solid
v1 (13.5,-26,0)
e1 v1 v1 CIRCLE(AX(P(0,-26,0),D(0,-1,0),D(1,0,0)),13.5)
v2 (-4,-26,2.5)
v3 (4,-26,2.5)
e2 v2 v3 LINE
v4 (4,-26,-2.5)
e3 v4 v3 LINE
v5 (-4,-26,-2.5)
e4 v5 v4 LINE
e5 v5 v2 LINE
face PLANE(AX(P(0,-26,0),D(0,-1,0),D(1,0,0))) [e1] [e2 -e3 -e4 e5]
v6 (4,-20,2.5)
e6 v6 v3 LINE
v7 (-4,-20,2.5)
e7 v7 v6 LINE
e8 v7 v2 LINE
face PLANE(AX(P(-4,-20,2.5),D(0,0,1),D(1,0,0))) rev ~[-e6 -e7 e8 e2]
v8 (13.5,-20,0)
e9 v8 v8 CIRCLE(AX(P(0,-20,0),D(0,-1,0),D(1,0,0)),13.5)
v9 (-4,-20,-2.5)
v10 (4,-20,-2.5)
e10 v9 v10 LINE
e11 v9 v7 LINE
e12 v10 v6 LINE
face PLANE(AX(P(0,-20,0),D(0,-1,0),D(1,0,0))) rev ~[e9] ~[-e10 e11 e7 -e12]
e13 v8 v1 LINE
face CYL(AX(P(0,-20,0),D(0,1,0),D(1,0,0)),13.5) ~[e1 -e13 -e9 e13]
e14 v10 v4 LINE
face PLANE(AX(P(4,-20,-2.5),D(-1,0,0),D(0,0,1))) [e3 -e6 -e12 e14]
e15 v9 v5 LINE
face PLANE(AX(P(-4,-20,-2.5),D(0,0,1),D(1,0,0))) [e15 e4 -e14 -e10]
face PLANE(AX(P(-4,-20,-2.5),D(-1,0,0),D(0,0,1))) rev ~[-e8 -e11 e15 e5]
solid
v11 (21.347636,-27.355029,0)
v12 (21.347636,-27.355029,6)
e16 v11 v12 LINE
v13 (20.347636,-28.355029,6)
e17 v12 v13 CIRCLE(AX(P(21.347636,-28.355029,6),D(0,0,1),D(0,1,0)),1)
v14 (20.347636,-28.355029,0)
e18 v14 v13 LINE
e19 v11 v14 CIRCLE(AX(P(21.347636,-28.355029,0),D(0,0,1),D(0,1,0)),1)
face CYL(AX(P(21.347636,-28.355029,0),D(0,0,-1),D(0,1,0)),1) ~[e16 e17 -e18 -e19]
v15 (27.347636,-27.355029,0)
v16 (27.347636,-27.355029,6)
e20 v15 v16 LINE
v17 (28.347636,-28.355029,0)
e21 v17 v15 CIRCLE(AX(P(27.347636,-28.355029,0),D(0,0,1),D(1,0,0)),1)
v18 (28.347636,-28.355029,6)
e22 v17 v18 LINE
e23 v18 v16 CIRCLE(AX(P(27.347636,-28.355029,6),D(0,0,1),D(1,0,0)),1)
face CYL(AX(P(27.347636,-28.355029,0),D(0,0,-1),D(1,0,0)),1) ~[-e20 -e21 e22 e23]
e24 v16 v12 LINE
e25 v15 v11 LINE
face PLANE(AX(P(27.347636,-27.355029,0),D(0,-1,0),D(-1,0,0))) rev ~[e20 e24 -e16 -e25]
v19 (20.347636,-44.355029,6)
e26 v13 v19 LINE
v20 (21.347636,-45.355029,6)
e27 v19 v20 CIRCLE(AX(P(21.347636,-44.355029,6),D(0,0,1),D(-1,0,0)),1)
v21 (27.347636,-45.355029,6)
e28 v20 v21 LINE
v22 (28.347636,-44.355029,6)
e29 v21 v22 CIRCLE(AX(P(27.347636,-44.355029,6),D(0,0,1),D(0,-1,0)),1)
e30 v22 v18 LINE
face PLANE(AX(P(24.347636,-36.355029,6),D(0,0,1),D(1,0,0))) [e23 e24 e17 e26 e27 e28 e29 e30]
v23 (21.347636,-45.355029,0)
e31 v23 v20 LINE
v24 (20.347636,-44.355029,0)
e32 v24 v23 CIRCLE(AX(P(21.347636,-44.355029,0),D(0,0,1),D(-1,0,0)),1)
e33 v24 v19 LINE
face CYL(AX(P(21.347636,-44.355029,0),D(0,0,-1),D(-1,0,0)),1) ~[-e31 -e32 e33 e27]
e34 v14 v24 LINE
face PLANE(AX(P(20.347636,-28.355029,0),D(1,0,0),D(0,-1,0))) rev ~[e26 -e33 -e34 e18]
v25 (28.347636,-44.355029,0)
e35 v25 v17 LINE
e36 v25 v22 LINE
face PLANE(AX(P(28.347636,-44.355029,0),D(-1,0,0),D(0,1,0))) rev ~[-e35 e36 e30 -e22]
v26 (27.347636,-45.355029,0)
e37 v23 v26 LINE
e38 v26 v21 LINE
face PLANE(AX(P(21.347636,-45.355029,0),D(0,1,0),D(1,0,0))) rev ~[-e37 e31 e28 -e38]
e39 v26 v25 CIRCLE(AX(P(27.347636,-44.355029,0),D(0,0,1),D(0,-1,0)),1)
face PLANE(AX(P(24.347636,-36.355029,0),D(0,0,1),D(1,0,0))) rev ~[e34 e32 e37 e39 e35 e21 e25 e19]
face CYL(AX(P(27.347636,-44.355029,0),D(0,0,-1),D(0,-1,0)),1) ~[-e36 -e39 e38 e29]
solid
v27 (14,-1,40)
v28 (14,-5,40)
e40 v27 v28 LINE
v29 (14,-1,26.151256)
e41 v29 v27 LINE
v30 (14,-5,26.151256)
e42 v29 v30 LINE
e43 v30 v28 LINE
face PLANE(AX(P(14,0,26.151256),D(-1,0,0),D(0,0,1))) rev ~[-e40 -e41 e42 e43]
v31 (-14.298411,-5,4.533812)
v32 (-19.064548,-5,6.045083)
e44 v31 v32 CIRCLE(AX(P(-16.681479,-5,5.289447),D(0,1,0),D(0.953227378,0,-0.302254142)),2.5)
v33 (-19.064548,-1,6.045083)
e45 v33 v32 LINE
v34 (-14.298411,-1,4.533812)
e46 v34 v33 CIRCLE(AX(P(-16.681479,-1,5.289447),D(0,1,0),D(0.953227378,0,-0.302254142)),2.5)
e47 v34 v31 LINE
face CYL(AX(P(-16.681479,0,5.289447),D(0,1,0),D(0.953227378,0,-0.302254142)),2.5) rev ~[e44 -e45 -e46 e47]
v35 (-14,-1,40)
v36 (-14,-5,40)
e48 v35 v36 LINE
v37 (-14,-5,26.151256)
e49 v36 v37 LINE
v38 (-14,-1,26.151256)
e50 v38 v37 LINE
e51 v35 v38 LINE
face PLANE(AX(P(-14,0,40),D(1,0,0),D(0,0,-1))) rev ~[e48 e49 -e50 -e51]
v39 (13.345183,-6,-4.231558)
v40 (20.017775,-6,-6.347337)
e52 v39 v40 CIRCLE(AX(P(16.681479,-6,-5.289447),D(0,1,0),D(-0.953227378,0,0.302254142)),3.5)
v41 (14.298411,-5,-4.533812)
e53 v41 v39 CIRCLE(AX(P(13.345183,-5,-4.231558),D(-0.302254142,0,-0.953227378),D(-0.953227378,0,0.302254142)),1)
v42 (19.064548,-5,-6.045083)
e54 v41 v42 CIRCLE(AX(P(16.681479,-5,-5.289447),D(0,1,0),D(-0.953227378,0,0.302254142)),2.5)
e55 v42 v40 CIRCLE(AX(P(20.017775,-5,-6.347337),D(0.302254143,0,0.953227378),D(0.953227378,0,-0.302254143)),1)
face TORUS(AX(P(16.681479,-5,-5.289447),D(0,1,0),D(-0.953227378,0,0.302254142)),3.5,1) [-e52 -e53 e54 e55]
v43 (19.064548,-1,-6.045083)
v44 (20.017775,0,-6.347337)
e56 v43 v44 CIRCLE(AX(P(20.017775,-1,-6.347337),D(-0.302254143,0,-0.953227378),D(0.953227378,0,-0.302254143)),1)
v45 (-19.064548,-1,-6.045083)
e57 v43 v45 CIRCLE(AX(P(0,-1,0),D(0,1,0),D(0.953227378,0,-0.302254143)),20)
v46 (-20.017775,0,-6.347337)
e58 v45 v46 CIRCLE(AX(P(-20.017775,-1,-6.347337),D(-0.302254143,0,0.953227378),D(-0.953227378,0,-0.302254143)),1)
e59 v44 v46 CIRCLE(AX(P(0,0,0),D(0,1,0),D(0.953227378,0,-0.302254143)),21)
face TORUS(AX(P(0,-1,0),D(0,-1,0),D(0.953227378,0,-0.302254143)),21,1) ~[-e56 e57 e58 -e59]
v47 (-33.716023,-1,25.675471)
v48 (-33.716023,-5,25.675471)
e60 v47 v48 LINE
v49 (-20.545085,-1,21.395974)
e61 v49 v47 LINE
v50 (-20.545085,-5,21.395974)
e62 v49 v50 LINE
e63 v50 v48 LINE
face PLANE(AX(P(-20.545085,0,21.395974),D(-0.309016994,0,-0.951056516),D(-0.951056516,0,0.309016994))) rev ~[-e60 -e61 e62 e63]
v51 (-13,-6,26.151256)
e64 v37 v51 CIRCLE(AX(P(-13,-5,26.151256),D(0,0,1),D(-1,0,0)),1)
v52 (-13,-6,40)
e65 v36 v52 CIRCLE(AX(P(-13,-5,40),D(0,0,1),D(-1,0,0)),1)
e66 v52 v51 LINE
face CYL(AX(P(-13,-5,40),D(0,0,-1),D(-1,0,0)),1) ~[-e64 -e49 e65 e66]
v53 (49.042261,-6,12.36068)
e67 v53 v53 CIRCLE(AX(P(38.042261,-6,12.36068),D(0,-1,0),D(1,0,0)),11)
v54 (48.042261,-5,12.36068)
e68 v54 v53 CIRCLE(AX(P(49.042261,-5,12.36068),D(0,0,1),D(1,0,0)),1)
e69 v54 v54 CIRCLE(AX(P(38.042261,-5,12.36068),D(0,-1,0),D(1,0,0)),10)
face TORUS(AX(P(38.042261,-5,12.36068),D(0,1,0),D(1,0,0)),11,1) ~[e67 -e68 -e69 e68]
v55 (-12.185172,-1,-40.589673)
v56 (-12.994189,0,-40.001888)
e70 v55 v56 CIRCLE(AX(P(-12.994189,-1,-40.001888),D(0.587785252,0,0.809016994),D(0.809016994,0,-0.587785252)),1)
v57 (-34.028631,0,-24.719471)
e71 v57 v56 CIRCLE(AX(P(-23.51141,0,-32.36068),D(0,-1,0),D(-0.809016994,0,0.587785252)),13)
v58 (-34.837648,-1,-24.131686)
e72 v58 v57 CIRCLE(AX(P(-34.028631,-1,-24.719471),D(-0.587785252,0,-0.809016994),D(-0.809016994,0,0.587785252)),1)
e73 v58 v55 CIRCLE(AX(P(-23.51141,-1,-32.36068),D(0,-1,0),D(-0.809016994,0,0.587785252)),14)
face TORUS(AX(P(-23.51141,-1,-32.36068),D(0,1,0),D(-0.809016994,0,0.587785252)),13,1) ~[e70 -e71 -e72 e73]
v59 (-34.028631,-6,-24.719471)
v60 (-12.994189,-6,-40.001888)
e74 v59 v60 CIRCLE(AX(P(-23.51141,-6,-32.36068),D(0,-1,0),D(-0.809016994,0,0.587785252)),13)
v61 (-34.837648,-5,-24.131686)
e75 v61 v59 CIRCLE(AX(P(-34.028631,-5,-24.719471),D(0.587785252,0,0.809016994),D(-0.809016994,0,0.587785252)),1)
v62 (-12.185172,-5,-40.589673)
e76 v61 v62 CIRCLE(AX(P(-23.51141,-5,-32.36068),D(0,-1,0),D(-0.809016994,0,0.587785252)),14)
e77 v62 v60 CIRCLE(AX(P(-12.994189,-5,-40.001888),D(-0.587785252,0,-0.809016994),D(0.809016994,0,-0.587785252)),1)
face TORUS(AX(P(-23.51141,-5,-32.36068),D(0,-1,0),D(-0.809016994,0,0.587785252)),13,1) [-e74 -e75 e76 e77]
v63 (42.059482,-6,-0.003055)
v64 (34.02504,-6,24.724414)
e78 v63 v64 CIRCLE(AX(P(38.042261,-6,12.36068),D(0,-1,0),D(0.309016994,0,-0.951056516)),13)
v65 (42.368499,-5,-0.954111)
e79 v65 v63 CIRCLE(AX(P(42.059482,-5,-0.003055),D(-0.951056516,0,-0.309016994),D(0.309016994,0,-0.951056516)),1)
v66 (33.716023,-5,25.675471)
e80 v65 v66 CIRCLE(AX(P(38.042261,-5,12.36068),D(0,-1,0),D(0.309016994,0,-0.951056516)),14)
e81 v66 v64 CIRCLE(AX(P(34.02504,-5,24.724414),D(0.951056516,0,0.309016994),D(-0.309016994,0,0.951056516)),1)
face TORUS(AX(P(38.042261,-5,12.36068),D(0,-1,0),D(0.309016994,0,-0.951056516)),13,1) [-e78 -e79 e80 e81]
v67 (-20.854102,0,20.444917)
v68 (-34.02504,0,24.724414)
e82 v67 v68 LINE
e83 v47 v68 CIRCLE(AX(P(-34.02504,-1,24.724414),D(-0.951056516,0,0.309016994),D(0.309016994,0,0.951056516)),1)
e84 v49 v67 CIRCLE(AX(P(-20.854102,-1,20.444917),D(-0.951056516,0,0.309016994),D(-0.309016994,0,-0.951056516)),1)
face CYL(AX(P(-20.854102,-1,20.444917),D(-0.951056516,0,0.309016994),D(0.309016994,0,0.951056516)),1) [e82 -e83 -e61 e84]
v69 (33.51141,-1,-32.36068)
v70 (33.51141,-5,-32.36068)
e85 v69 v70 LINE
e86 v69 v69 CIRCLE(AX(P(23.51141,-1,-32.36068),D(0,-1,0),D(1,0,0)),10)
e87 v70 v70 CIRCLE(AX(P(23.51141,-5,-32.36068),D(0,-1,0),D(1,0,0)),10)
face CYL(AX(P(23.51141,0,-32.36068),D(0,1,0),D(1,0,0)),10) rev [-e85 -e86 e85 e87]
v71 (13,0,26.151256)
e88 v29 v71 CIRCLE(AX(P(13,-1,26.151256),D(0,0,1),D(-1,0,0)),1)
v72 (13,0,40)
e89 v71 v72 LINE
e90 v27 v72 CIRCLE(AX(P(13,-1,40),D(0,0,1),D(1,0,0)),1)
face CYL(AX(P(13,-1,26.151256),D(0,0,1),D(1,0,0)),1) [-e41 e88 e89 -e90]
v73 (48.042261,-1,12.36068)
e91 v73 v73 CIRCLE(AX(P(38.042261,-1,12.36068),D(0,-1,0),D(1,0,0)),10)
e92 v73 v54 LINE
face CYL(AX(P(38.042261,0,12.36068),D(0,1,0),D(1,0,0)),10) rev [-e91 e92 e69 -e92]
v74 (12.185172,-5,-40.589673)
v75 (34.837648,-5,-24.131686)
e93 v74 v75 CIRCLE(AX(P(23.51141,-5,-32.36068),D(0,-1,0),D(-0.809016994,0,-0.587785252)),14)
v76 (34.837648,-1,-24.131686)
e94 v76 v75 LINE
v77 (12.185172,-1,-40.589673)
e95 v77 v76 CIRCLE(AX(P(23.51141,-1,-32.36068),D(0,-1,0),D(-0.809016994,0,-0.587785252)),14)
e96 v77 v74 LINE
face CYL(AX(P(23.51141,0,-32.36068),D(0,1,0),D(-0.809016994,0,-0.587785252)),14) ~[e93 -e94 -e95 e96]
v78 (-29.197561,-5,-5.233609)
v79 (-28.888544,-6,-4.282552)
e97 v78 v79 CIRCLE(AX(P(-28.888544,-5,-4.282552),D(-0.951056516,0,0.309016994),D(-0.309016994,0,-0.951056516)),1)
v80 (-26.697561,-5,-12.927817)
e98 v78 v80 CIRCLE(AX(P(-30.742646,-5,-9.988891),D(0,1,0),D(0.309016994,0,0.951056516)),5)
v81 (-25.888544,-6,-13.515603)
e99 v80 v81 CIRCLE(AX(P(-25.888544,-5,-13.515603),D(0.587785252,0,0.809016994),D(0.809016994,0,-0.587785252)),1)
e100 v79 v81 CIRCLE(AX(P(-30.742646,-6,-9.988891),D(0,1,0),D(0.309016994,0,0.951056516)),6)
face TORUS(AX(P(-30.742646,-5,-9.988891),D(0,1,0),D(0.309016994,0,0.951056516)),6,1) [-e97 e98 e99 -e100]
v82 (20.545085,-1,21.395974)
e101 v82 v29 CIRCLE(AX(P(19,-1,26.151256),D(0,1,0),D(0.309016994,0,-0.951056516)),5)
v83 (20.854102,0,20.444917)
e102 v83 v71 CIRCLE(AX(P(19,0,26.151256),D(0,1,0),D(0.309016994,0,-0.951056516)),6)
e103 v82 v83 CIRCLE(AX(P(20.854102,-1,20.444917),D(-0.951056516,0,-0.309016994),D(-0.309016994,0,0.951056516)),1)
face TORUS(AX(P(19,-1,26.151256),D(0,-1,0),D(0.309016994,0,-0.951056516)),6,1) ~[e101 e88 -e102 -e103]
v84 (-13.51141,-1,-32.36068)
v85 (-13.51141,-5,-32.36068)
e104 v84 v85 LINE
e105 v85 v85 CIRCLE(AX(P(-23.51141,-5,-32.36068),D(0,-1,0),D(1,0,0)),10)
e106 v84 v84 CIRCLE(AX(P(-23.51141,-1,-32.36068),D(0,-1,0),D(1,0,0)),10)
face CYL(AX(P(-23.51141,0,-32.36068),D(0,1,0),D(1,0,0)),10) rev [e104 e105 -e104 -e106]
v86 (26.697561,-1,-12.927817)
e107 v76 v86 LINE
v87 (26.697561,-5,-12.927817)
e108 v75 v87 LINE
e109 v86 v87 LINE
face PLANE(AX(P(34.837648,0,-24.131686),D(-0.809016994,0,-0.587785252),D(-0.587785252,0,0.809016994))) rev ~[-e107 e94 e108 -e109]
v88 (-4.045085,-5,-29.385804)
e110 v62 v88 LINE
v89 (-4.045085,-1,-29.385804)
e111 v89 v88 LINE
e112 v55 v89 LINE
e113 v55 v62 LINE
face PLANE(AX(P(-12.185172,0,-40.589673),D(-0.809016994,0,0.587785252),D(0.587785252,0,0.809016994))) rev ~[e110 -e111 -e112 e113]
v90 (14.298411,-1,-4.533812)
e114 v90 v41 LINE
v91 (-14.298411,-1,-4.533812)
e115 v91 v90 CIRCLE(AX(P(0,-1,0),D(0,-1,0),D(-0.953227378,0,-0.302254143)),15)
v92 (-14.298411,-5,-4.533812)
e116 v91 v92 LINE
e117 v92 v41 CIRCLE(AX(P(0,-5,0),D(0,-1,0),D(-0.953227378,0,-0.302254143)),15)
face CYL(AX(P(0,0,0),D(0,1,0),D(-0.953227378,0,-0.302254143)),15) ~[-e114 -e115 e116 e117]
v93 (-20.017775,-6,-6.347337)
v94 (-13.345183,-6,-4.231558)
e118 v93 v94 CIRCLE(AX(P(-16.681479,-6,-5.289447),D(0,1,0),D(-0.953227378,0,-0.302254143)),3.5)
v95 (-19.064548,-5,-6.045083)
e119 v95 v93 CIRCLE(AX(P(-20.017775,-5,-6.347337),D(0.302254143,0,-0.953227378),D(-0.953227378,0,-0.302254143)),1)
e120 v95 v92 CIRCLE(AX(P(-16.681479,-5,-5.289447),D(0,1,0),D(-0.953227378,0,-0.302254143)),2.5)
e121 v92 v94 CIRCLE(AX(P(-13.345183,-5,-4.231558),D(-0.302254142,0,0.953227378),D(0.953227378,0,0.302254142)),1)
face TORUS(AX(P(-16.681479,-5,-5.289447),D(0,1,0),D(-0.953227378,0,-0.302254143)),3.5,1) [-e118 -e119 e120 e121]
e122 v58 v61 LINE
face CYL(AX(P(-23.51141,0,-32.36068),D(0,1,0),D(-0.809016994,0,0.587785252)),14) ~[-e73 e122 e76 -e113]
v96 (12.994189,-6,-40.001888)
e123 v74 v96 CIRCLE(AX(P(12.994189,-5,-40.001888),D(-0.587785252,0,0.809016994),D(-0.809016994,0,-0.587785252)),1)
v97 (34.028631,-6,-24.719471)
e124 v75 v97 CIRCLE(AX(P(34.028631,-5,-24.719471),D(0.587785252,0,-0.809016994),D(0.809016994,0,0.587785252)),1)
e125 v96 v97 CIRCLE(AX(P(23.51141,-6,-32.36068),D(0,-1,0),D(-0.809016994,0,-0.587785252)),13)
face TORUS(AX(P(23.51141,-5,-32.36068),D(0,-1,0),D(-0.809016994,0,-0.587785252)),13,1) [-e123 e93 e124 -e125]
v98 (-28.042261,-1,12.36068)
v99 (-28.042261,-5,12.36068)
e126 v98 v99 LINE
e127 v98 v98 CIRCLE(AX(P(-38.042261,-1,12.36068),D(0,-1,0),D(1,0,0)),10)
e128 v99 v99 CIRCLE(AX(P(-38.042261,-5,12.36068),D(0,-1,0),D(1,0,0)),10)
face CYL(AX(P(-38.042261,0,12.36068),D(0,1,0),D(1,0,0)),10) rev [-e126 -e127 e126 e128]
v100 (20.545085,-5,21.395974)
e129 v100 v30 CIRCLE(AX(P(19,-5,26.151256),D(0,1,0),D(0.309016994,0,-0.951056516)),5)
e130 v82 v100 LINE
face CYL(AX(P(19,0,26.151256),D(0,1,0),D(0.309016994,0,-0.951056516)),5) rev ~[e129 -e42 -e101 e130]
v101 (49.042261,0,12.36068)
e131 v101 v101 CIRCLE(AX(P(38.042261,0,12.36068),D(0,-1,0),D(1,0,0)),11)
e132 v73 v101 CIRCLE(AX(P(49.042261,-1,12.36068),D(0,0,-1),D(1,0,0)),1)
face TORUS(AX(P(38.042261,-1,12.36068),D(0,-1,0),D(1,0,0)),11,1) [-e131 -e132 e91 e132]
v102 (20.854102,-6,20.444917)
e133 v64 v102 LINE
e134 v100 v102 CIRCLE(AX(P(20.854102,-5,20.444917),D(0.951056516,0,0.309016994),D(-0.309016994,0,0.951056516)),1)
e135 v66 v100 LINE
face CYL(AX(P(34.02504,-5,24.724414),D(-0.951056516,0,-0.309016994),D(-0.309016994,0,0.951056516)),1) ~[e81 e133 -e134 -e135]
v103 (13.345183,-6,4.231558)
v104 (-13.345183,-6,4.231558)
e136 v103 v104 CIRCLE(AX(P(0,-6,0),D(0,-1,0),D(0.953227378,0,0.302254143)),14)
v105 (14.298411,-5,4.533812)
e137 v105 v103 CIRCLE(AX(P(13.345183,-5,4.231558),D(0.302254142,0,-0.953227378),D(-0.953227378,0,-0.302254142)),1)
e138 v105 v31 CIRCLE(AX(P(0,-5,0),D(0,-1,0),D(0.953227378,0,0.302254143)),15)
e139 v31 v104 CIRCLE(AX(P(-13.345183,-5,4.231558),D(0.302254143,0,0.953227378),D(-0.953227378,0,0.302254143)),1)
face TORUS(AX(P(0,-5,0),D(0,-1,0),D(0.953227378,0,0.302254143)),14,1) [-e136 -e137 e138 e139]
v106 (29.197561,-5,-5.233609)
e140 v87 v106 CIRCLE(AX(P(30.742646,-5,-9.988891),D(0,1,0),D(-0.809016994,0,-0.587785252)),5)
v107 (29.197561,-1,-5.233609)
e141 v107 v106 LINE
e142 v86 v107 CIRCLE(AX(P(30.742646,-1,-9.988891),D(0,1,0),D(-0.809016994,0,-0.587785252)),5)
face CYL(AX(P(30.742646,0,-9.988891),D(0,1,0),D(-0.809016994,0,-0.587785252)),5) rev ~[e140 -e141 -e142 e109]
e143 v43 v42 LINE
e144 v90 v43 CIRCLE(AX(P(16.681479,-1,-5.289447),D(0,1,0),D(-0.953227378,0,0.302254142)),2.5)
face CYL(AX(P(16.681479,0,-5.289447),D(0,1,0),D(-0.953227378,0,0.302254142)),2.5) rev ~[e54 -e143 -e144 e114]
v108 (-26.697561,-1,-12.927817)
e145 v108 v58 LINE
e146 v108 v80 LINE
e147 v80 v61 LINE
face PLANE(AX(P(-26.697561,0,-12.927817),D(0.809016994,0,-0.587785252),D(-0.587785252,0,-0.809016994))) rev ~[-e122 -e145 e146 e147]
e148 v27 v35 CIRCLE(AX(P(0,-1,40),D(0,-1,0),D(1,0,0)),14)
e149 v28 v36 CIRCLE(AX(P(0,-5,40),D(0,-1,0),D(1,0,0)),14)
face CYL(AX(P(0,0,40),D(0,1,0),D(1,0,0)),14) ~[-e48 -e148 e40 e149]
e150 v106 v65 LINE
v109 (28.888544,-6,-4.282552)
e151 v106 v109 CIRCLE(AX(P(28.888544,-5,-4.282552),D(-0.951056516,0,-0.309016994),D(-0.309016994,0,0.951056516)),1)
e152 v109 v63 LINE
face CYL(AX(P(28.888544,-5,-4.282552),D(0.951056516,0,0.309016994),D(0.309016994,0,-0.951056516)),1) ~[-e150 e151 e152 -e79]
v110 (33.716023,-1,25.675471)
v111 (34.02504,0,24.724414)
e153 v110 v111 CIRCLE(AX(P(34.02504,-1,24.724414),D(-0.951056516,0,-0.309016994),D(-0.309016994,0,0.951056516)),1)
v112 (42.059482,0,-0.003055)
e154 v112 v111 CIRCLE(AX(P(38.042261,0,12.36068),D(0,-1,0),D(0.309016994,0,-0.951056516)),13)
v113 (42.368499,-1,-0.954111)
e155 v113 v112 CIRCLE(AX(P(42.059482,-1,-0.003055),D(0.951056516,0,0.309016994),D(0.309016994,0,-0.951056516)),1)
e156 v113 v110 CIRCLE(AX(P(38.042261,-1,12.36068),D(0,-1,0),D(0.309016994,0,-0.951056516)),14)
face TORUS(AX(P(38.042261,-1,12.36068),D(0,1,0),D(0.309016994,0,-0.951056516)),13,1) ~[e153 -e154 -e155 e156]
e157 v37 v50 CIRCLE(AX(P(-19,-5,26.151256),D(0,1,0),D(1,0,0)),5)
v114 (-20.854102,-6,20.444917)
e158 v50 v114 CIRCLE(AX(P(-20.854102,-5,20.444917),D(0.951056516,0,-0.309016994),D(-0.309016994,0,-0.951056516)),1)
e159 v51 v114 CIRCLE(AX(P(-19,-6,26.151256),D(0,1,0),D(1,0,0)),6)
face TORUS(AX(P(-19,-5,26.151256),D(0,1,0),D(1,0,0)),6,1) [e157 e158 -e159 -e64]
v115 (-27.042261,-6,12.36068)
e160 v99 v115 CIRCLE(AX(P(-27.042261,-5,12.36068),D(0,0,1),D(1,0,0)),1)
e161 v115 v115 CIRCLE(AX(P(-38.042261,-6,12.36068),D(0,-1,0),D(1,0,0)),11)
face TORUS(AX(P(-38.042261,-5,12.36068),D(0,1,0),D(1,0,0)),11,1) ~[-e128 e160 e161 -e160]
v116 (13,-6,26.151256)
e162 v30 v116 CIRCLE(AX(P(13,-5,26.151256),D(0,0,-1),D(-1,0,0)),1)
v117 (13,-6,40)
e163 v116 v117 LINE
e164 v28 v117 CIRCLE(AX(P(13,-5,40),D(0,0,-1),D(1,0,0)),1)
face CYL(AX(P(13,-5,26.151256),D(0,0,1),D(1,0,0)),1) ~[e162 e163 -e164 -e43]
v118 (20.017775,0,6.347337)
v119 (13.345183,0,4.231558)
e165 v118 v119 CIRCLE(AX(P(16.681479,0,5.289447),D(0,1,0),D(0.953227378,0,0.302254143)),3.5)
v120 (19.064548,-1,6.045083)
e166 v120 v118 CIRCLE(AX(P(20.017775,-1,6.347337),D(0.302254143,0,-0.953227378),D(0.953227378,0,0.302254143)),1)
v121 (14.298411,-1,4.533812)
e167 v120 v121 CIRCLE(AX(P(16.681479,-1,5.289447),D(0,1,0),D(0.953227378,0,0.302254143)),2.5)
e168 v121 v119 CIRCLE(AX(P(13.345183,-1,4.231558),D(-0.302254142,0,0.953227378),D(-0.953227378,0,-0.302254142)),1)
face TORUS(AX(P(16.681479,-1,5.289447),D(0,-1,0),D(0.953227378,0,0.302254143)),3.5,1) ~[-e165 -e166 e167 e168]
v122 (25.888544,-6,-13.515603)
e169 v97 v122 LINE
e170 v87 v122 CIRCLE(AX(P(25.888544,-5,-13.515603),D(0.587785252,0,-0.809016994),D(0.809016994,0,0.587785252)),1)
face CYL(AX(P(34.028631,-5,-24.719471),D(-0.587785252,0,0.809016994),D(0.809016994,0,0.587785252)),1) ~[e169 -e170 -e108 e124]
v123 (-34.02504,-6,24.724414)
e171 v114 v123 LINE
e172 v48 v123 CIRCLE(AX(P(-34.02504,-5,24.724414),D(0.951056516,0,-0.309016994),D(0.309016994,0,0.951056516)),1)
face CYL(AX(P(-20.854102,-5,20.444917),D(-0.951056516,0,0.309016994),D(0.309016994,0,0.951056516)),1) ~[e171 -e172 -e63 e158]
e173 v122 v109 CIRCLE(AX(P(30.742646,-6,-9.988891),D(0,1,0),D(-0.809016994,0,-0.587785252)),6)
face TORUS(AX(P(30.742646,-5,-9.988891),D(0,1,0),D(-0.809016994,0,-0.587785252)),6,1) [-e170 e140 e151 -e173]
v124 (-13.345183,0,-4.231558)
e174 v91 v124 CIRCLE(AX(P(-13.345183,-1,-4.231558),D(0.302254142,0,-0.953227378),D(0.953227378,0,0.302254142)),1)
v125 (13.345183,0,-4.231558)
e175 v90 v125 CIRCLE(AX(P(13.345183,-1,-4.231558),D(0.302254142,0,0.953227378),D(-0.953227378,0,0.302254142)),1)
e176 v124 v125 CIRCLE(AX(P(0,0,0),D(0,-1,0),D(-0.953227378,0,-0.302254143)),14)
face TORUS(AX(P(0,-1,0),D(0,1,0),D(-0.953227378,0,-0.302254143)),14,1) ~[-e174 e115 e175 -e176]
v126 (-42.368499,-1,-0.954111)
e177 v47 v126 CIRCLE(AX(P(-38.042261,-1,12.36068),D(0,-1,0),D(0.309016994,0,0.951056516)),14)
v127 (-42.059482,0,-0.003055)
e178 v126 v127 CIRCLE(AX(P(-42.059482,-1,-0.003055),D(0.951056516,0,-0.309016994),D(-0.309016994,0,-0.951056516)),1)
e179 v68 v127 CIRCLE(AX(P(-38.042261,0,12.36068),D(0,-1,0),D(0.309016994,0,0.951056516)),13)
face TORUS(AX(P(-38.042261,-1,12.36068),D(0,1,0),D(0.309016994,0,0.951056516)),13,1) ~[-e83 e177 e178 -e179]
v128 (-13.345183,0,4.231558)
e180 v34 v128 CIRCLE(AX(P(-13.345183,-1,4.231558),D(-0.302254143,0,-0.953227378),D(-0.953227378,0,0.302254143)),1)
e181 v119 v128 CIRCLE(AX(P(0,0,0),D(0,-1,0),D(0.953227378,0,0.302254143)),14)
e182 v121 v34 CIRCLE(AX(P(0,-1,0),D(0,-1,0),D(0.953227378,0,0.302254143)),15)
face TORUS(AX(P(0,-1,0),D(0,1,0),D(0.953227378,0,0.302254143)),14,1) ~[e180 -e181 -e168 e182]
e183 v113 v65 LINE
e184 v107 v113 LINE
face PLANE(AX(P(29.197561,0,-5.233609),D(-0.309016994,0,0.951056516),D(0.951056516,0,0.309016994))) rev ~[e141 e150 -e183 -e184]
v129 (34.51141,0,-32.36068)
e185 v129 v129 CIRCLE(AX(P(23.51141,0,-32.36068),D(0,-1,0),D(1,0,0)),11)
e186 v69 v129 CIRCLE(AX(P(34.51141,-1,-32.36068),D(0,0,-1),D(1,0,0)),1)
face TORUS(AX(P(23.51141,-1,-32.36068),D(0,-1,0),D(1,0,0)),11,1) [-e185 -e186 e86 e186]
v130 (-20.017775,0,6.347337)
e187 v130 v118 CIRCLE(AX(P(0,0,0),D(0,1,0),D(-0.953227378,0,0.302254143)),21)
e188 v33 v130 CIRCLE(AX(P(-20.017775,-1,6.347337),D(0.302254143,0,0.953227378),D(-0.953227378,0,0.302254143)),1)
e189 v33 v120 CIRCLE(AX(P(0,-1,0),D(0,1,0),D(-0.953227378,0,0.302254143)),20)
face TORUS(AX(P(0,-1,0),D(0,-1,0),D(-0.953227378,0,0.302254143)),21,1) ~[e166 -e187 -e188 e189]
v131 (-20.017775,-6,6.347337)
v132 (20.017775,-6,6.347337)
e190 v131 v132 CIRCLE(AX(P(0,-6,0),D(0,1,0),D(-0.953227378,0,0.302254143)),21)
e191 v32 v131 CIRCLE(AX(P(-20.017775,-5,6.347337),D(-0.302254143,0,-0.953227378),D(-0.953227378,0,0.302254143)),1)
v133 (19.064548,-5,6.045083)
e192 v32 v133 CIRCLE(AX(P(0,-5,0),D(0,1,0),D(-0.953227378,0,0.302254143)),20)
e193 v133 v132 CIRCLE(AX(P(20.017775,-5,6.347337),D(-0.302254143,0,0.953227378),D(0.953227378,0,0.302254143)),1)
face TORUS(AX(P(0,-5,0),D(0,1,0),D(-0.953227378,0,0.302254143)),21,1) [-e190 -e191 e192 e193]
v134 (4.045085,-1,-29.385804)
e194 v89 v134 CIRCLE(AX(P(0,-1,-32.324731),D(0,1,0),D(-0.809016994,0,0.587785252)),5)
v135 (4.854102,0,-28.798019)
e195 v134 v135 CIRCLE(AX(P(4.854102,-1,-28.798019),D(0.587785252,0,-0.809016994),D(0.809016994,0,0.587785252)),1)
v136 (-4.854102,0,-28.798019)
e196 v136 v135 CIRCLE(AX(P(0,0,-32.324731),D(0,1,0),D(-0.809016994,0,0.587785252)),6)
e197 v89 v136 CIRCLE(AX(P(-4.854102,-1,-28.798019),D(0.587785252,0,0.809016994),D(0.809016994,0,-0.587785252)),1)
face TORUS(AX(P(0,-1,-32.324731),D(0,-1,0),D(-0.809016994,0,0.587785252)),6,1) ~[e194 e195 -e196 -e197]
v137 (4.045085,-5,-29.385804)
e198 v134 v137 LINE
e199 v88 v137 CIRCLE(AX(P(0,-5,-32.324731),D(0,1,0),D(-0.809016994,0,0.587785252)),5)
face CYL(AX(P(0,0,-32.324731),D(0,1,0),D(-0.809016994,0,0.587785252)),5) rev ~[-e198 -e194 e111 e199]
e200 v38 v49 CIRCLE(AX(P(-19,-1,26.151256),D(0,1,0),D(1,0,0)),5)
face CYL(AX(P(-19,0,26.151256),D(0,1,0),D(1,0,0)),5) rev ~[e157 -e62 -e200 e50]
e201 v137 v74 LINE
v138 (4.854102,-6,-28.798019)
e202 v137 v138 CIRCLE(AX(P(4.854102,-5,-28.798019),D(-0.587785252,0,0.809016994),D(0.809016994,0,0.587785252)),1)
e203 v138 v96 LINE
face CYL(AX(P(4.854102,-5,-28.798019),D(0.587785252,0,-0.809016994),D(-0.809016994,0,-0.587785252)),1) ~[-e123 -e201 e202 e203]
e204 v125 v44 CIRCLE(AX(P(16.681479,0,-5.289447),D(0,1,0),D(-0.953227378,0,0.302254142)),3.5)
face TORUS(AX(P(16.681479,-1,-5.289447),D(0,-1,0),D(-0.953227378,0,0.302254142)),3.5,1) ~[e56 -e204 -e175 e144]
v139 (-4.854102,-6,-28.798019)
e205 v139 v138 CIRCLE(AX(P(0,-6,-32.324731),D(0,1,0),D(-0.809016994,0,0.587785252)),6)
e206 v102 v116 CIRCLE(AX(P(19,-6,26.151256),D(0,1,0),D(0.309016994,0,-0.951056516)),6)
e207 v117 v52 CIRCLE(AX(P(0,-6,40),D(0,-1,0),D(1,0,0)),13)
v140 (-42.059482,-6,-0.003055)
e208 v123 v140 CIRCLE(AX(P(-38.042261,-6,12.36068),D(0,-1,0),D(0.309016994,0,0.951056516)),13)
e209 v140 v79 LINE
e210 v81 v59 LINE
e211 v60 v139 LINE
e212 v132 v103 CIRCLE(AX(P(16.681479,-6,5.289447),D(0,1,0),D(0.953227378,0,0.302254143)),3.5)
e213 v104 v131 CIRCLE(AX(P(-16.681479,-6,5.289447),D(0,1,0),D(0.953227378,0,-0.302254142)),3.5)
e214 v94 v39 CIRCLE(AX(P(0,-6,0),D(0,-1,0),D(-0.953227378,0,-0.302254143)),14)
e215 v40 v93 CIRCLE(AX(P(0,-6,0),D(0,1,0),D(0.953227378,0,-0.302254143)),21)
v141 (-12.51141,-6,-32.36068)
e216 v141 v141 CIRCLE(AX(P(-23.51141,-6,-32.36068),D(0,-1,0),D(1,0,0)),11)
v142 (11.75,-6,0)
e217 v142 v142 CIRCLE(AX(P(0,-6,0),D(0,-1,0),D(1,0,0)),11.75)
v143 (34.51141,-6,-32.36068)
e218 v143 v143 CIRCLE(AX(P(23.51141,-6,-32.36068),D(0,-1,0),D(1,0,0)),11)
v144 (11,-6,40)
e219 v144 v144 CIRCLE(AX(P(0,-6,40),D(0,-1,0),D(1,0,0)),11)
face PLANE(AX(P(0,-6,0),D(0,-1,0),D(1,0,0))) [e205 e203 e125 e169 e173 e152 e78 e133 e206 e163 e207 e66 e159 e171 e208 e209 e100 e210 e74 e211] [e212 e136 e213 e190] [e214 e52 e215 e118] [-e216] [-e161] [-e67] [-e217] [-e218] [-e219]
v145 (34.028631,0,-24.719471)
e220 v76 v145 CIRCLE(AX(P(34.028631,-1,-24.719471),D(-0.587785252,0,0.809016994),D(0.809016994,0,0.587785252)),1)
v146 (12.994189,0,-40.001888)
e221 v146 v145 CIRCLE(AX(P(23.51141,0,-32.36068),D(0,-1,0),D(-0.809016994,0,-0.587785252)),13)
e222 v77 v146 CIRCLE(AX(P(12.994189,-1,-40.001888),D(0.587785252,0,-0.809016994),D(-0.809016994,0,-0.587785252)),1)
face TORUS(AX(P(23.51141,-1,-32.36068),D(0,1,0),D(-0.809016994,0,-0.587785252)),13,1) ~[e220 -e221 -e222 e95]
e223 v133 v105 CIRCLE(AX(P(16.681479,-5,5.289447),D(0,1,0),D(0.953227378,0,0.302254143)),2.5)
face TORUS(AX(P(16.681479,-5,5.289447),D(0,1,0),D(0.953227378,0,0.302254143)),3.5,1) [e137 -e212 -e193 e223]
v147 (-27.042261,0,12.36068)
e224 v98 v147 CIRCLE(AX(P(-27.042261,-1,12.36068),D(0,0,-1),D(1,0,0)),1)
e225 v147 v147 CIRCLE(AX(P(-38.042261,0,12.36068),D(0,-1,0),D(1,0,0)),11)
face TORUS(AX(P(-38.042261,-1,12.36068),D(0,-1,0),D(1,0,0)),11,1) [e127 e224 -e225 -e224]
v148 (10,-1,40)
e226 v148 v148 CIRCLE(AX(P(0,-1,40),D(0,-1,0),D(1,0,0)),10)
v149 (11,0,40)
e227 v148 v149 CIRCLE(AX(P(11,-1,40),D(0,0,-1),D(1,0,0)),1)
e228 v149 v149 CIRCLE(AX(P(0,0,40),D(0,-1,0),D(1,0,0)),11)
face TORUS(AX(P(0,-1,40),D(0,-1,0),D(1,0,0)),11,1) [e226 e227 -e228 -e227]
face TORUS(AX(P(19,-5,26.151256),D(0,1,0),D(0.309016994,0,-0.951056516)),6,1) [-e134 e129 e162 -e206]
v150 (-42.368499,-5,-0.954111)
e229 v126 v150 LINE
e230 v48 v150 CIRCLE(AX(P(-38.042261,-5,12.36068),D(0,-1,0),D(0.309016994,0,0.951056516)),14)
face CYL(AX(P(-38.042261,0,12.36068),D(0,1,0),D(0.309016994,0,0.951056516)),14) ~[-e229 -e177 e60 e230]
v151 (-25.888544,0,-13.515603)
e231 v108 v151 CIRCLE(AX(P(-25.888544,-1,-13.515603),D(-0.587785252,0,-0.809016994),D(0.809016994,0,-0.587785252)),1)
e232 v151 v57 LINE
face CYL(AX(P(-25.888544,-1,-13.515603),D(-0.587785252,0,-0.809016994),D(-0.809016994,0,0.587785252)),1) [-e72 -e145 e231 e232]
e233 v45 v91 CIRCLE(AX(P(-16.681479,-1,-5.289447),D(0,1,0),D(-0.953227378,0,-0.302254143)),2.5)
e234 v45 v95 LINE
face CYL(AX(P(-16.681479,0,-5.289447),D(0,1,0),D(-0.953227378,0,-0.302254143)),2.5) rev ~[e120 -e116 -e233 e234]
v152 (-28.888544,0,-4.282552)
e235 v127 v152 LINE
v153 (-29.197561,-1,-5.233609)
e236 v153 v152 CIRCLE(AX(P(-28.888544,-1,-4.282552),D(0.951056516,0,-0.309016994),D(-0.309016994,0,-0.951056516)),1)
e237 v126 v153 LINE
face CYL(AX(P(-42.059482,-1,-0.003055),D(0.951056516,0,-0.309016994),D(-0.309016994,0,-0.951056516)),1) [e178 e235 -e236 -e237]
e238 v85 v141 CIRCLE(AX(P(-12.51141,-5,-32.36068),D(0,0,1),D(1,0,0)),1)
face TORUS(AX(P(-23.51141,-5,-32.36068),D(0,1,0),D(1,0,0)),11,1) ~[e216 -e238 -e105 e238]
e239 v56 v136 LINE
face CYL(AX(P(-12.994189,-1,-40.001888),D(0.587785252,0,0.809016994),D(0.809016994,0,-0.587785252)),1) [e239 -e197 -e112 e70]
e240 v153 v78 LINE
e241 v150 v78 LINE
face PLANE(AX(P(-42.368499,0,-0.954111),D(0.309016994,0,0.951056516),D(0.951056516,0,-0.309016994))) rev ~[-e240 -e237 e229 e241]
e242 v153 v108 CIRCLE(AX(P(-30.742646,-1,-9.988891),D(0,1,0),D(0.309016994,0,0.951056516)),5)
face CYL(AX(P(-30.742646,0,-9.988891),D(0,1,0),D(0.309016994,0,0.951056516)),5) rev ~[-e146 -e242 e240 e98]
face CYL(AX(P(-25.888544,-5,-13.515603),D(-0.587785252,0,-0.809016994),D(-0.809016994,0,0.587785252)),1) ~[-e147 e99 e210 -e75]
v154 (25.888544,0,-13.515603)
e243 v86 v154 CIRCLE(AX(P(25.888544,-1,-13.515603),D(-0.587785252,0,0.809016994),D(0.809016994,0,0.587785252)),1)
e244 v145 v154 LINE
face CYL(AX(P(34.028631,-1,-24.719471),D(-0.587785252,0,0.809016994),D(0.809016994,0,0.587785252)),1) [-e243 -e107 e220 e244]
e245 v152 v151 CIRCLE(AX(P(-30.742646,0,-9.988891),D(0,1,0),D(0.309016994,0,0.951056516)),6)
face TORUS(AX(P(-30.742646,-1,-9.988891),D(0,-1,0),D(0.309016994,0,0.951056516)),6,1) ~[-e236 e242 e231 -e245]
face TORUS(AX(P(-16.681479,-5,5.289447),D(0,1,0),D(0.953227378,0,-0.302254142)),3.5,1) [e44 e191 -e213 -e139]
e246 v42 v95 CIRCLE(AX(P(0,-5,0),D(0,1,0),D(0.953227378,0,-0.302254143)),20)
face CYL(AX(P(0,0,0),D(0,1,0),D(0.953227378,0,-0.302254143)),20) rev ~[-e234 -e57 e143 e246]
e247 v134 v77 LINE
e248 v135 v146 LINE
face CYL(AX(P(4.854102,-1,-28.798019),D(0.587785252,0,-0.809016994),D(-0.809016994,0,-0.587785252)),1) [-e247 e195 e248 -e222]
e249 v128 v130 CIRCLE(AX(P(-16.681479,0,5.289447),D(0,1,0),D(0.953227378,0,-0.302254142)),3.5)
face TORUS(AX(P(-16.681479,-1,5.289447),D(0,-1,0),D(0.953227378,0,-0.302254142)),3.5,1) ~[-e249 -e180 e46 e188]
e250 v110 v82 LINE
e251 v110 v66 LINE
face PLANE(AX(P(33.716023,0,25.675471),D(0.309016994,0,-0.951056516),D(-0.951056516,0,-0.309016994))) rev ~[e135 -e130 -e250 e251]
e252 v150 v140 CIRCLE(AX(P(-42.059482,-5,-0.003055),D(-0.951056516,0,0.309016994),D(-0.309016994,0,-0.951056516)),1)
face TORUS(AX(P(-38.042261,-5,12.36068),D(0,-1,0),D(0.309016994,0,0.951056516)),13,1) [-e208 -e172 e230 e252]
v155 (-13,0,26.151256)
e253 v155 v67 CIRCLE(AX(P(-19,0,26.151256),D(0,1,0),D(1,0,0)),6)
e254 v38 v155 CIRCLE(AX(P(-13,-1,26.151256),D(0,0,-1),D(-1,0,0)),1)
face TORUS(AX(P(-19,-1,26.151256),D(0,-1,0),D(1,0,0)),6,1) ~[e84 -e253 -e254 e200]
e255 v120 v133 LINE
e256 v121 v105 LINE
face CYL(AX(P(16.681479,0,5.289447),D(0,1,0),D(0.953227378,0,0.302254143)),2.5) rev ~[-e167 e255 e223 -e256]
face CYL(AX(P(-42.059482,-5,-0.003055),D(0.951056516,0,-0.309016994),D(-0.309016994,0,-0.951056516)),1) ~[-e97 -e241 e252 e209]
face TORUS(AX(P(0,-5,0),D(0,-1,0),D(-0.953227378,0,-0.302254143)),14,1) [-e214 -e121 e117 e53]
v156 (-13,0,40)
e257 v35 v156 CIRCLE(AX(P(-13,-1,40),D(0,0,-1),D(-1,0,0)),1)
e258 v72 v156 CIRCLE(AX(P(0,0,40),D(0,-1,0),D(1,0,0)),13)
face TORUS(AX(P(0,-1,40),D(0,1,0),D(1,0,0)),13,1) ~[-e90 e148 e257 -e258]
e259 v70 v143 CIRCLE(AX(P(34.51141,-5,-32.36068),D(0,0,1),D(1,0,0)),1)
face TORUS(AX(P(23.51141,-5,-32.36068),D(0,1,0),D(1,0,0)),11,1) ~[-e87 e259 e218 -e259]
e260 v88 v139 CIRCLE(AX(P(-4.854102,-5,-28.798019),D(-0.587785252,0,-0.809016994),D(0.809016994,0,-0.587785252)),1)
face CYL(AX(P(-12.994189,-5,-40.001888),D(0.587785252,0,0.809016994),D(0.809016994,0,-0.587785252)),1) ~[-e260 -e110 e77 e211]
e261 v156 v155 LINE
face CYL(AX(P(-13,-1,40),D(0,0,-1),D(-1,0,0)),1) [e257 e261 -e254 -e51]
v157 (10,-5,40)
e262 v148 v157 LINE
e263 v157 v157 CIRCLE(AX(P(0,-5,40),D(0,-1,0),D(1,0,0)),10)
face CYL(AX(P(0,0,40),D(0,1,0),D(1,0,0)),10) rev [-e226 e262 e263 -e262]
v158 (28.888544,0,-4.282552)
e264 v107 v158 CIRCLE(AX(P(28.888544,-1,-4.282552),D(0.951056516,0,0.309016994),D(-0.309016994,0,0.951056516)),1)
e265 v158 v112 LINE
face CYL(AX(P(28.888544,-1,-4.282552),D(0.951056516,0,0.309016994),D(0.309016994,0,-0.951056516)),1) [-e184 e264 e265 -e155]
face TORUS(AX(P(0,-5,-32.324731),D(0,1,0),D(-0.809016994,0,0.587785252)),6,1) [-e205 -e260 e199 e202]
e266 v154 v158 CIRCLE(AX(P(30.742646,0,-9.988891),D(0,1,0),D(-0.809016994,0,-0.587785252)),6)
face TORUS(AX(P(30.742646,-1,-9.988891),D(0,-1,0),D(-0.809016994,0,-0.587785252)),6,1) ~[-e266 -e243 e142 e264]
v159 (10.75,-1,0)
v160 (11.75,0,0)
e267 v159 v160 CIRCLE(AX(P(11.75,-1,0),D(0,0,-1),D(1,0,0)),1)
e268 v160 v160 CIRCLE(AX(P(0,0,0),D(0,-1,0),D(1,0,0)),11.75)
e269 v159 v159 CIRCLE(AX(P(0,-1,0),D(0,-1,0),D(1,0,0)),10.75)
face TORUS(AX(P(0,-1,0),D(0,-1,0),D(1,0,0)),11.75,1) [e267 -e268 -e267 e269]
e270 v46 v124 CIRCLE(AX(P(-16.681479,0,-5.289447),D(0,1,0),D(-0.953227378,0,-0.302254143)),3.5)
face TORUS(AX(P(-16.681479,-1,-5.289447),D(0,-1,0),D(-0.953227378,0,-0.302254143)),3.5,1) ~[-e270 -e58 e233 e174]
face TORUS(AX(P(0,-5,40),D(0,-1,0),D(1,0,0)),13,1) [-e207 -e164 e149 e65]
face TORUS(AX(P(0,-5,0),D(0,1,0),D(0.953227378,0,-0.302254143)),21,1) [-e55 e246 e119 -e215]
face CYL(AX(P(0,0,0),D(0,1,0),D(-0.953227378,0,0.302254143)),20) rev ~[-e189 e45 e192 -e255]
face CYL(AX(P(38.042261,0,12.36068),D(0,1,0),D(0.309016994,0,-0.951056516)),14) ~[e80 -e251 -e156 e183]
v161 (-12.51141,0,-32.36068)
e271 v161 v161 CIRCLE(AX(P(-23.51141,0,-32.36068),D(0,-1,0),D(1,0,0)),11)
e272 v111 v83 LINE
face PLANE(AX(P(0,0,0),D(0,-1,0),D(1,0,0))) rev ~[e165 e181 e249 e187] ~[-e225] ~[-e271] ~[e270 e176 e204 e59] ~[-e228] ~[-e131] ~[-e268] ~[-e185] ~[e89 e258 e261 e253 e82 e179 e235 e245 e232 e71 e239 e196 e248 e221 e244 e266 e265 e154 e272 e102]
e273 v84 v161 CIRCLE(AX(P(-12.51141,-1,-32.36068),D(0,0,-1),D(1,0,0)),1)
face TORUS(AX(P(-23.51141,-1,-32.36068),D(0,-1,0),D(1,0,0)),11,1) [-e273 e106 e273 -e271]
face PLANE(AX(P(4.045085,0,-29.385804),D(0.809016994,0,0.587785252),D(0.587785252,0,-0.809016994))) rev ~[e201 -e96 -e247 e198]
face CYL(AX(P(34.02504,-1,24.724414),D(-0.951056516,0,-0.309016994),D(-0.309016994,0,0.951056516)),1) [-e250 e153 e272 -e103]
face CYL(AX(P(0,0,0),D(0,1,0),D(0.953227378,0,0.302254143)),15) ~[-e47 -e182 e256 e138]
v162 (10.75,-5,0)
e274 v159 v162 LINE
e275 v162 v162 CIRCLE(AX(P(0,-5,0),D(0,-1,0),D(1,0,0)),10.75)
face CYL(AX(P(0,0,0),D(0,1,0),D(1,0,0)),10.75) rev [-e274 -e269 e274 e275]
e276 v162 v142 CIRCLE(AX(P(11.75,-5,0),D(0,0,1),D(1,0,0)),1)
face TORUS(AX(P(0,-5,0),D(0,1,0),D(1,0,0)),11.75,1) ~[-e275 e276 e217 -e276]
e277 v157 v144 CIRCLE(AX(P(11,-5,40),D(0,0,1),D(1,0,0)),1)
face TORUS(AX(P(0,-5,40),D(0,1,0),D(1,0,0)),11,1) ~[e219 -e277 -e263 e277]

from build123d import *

# Parameters (mm, degrees)
F0_R     = 10
F0_R_2   = 10.75
F1_DEPTH = 6
F2_R     = 1
F4_DEPTH = 6
F6_START = 20
F5_R     = 13.5
F5_W     = 8
F5_H     = 5
F6_DEPTH = 6


with BuildPart() as f1:
    # F0 (on Front) → F1 (new body)
    with BuildSketch(Plane.XZ):
        with BuildLine():
            Line((14, 26.151256489), (14, 40))
            ThreePointArc((14, 40), (0, 54), (-14, 40))
            Line((-14, 40), (-14, 26.151256489))
            ThreePointArc((-14, 26.151256489), (-16.0610737385, 22.1061715171), (-20.5450849719, 21.3959739075))
            Line((-20.5450849719, 21.3959739075), (-33.7160227306, 25.6754710031))
            ThreePointArc((-33.7160227306, 25.6754710031), (-51.3570518799, 16.6869176962), (-42.3684985731, -0.9541114531))
            Line((-42.3684985731, -0.9541114531), (-29.1975608144, -5.2336085488))
            ThreePointArc((-29.1975608144, -5.2336085488), (-25.9873632048, -8.4438061584), (-26.6975608144, -12.9278173917))
            Line((-26.6975608144, -12.9278173917), (-34.8376480129, -24.1316862429))
            ThreePointArc((-34.8376480129, -24.1316862429), (-31.7404036238, -43.6869176962), (-12.1851721704, -40.5896733071))
            Line((-12.1851721704, -40.5896733071), (-4.0450849719, -29.3858044559))
            ThreePointArc((-4.0450849719, -29.3858044559), (0, -27.3247307174), (4.0450849719, -29.3858044559))
            Line((4.0450849719, -29.3858044559), (12.1851721704, -40.5896733071))
            ThreePointArc((12.1851721704, -40.5896733071), (31.7404036238, -43.6869176962), (34.8376480129, -24.1316862429))
            Line((34.8376480129, -24.1316862429), (26.6975608144, -12.9278173917))
            ThreePointArc((26.6975608144, -12.9278173917), (25.9873632048, -8.4438061584), (29.1975608144, -5.2336085488))
            Line((29.1975608144, -5.2336085488), (42.3684985731, -0.9541114531))
            ThreePointArc((42.3684985731, -0.9541114531), (51.3570518799, 16.6869176962), (33.7160227306, 25.6754710031))
            Line((33.7160227306, 25.6754710031), (20.5450849719, 21.3959739075))
            ThreePointArc((20.5450849719, 21.3959739075), (16.0610737385, 22.1061715171), (14, 26.151256489))
        make_face()
        with Locations((-23.5114100917, -32.360679775)):
            Circle(F0_R, mode=Mode.SUBTRACT)
        with Locations((23.5114100917, -32.360679775)):
            Circle(F0_R, mode=Mode.SUBTRACT)
        with BuildLine():
            ThreePointArc((19.0645475513, -6.0450828501), (0, -20), (-19.0645475513, -6.0450828501))
            ThreePointArc((-19.0645475513, -6.0450828501), (-17.4371144636, -2.9063790499), (-14.2984106635, -4.5338121376))
            ThreePointArc((-14.2984106635, -4.5338121376), (0, -15), (14.2984106635, -4.5338121376))
            ThreePointArc((14.2984106635, -4.5338121376), (17.4371144636, -2.9063790499), (19.0645475513, -6.0450828501))
        make_face(mode=Mode.SUBTRACT)
        Circle(F0_R_2, mode=Mode.SUBTRACT)
        with Locations((-38.0422606518, 12.360679775)):
            Circle(F0_R, mode=Mode.SUBTRACT)
        with BuildLine():
            ThreePointArc((-19.0645475513, 6.0450828501), (0, 20), (19.0645475513, 6.0450828501))
            ThreePointArc((19.0645475513, 6.0450828501), (17.4371144636, 2.9063790499), (14.2984106635, 4.5338121376))
            ThreePointArc((14.2984106635, 4.5338121376), (0, 15), (-14.2984106635, 4.5338121376))
            ThreePointArc((-14.2984106635, 4.5338121376), (-17.4371144636, 2.9063790499), (-19.0645475513, 6.0450828501))
        make_face(mode=Mode.SUBTRACT)
        with Locations((38.0422606518, 12.360679775)):
            Circle(F0_R, mode=Mode.SUBTRACT)
        with Locations((0, 40)):
            Circle(F0_R, mode=Mode.SUBTRACT)
    extrude(amount=F1_DEPTH)

    # F2
    f2_edges = [f1.edges().sort_by_distance(p)[0] for p in [
        (31.740404, -6, -43.686918),
        (30.767604, -6, -18.529752),
        (25.987363, -6, -8.443806),
        (35.78303, -6, -3.09386),
        (51.357052, -6, 16.686918),
        (27.130554, -6, 23.535722),
        (16.061074, -6, 22.106172),
        (14, -6, 33.075628),
        (0, -6, 54),
        (-14, -6, 33.075628),
        (-16.061074, -6, 22.106172),
        (-27.130554, -6, 23.535722),
        (-51.357052, -6, 16.686918),
        (-35.78303, -6, -3.09386),
        (-25.987363, -6, -8.443806),
        (-30.767604, -6, -18.529752),
        (-31.740404, -6, -43.686918),
        (-8.115129, -6, -34.987739),
        (0, -6, -27.324731),
        (8.115129, -6, -34.987739),
        (-33.51141, -6, -32.36068),
        (13.51141, -6, -32.36068),
        (17.437114, -6, -2.906379),
        (0, -6, -20),
        (-17.437114, -6, -2.906379),
        (0, -6, -15),
        (-10.75, -6, 0),
        (-48.042261, -6, 12.36068),
        (17.437114, -6, 2.906379),
        (0, -6, 15),
        (-17.437114, -6, 2.906379),
        (0, -6, 20),
        (28.042261, -6, 12.36068),
        (-10, -6, 40),
        (31.740404, 0, -43.686918),
        (30.767604, 0, -18.529752),
        (25.987363, 0, -8.443806),
        (35.78303, 0, -3.09386),
        (51.357052, 0, 16.686918),
        (27.130554, 0, 23.535722),
        (16.061074, 0, 22.106172),
        (14, 0, 33.075628),
        (0, 0, 54),
        (-14, 0, 33.075628),
        (-16.061074, 0, 22.106172),
        (-27.130554, 0, 23.535722),
        (-51.357052, 0, 16.686918),
        (-35.78303, 0, -3.09386),
        (-25.987363, 0, -8.443806),
        (-30.767604, 0, -18.529752),
        (-31.740404, 0, -43.686918),
        (-8.115129, 0, -34.987739),
        (0, 0, -27.324731),
        (8.115129, 0, -34.987739),
        (-33.51141, 0, -32.36068),
        (13.51141, 0, -32.36068),
        (17.437114, 0, -2.906379),
        (0, 0, -20),
        (-17.437114, 0, -2.906379),
        (0, 0, -15),
        (-10.75, 0, 0),
        (-48.042261, 0, 12.36068),
        (17.437114, 0, 2.906379),
        (0, 0, 15),
        (-17.437114, 0, 2.906379),
        (0, 0, 20),
        (28.042261, 0, 12.36068),
        (-10, 0, 40),
    ]]
    fillet(f2_edges, radius=F2_R)


with BuildPart() as f4:
    # F3 (on Top) → F4 (new body)
    with BuildSketch(Plane.XY):
        with BuildLine():
            Line((27.347636193, -27.3550294042), (21.347636193, -27.3550294042))
            ThreePointArc((21.347636193, -27.3550294042), (20.6405294119, -27.647922623), (20.347636193, -28.3550294042))
            Line((20.347636193, -28.3550294042), (20.347636193, -44.3550294042))
            ThreePointArc((20.347636193, -44.3550294042), (20.6405294119, -45.0621361853), (21.347636193, -45.3550294042))
            Line((21.347636193, -45.3550294042), (27.347636193, -45.3550294042))
            ThreePointArc((27.347636193, -45.3550294042), (28.0547429742, -45.0621361853), (28.347636193, -44.3550294042))
            Line((28.347636193, -44.3550294042), (28.347636193, -28.3550294042))
            ThreePointArc((28.347636193, -28.3550294042), (28.0547429742, -27.647922623), (27.347636193, -27.3550294042))
        make_face()
    extrude(amount=F4_DEPTH)


with BuildPart() as f6:
    # F5 (on Front) → F6 (new body)
    with BuildSketch(Plane.XZ.offset(F6_START)):
        Circle(F5_R)
        Rectangle(F5_W, F5_H, mode=Mode.SUBTRACT)
    extrude(amount=F6_DEPTH)


solid = Compound([f1.part, f4.part, f6.part])
